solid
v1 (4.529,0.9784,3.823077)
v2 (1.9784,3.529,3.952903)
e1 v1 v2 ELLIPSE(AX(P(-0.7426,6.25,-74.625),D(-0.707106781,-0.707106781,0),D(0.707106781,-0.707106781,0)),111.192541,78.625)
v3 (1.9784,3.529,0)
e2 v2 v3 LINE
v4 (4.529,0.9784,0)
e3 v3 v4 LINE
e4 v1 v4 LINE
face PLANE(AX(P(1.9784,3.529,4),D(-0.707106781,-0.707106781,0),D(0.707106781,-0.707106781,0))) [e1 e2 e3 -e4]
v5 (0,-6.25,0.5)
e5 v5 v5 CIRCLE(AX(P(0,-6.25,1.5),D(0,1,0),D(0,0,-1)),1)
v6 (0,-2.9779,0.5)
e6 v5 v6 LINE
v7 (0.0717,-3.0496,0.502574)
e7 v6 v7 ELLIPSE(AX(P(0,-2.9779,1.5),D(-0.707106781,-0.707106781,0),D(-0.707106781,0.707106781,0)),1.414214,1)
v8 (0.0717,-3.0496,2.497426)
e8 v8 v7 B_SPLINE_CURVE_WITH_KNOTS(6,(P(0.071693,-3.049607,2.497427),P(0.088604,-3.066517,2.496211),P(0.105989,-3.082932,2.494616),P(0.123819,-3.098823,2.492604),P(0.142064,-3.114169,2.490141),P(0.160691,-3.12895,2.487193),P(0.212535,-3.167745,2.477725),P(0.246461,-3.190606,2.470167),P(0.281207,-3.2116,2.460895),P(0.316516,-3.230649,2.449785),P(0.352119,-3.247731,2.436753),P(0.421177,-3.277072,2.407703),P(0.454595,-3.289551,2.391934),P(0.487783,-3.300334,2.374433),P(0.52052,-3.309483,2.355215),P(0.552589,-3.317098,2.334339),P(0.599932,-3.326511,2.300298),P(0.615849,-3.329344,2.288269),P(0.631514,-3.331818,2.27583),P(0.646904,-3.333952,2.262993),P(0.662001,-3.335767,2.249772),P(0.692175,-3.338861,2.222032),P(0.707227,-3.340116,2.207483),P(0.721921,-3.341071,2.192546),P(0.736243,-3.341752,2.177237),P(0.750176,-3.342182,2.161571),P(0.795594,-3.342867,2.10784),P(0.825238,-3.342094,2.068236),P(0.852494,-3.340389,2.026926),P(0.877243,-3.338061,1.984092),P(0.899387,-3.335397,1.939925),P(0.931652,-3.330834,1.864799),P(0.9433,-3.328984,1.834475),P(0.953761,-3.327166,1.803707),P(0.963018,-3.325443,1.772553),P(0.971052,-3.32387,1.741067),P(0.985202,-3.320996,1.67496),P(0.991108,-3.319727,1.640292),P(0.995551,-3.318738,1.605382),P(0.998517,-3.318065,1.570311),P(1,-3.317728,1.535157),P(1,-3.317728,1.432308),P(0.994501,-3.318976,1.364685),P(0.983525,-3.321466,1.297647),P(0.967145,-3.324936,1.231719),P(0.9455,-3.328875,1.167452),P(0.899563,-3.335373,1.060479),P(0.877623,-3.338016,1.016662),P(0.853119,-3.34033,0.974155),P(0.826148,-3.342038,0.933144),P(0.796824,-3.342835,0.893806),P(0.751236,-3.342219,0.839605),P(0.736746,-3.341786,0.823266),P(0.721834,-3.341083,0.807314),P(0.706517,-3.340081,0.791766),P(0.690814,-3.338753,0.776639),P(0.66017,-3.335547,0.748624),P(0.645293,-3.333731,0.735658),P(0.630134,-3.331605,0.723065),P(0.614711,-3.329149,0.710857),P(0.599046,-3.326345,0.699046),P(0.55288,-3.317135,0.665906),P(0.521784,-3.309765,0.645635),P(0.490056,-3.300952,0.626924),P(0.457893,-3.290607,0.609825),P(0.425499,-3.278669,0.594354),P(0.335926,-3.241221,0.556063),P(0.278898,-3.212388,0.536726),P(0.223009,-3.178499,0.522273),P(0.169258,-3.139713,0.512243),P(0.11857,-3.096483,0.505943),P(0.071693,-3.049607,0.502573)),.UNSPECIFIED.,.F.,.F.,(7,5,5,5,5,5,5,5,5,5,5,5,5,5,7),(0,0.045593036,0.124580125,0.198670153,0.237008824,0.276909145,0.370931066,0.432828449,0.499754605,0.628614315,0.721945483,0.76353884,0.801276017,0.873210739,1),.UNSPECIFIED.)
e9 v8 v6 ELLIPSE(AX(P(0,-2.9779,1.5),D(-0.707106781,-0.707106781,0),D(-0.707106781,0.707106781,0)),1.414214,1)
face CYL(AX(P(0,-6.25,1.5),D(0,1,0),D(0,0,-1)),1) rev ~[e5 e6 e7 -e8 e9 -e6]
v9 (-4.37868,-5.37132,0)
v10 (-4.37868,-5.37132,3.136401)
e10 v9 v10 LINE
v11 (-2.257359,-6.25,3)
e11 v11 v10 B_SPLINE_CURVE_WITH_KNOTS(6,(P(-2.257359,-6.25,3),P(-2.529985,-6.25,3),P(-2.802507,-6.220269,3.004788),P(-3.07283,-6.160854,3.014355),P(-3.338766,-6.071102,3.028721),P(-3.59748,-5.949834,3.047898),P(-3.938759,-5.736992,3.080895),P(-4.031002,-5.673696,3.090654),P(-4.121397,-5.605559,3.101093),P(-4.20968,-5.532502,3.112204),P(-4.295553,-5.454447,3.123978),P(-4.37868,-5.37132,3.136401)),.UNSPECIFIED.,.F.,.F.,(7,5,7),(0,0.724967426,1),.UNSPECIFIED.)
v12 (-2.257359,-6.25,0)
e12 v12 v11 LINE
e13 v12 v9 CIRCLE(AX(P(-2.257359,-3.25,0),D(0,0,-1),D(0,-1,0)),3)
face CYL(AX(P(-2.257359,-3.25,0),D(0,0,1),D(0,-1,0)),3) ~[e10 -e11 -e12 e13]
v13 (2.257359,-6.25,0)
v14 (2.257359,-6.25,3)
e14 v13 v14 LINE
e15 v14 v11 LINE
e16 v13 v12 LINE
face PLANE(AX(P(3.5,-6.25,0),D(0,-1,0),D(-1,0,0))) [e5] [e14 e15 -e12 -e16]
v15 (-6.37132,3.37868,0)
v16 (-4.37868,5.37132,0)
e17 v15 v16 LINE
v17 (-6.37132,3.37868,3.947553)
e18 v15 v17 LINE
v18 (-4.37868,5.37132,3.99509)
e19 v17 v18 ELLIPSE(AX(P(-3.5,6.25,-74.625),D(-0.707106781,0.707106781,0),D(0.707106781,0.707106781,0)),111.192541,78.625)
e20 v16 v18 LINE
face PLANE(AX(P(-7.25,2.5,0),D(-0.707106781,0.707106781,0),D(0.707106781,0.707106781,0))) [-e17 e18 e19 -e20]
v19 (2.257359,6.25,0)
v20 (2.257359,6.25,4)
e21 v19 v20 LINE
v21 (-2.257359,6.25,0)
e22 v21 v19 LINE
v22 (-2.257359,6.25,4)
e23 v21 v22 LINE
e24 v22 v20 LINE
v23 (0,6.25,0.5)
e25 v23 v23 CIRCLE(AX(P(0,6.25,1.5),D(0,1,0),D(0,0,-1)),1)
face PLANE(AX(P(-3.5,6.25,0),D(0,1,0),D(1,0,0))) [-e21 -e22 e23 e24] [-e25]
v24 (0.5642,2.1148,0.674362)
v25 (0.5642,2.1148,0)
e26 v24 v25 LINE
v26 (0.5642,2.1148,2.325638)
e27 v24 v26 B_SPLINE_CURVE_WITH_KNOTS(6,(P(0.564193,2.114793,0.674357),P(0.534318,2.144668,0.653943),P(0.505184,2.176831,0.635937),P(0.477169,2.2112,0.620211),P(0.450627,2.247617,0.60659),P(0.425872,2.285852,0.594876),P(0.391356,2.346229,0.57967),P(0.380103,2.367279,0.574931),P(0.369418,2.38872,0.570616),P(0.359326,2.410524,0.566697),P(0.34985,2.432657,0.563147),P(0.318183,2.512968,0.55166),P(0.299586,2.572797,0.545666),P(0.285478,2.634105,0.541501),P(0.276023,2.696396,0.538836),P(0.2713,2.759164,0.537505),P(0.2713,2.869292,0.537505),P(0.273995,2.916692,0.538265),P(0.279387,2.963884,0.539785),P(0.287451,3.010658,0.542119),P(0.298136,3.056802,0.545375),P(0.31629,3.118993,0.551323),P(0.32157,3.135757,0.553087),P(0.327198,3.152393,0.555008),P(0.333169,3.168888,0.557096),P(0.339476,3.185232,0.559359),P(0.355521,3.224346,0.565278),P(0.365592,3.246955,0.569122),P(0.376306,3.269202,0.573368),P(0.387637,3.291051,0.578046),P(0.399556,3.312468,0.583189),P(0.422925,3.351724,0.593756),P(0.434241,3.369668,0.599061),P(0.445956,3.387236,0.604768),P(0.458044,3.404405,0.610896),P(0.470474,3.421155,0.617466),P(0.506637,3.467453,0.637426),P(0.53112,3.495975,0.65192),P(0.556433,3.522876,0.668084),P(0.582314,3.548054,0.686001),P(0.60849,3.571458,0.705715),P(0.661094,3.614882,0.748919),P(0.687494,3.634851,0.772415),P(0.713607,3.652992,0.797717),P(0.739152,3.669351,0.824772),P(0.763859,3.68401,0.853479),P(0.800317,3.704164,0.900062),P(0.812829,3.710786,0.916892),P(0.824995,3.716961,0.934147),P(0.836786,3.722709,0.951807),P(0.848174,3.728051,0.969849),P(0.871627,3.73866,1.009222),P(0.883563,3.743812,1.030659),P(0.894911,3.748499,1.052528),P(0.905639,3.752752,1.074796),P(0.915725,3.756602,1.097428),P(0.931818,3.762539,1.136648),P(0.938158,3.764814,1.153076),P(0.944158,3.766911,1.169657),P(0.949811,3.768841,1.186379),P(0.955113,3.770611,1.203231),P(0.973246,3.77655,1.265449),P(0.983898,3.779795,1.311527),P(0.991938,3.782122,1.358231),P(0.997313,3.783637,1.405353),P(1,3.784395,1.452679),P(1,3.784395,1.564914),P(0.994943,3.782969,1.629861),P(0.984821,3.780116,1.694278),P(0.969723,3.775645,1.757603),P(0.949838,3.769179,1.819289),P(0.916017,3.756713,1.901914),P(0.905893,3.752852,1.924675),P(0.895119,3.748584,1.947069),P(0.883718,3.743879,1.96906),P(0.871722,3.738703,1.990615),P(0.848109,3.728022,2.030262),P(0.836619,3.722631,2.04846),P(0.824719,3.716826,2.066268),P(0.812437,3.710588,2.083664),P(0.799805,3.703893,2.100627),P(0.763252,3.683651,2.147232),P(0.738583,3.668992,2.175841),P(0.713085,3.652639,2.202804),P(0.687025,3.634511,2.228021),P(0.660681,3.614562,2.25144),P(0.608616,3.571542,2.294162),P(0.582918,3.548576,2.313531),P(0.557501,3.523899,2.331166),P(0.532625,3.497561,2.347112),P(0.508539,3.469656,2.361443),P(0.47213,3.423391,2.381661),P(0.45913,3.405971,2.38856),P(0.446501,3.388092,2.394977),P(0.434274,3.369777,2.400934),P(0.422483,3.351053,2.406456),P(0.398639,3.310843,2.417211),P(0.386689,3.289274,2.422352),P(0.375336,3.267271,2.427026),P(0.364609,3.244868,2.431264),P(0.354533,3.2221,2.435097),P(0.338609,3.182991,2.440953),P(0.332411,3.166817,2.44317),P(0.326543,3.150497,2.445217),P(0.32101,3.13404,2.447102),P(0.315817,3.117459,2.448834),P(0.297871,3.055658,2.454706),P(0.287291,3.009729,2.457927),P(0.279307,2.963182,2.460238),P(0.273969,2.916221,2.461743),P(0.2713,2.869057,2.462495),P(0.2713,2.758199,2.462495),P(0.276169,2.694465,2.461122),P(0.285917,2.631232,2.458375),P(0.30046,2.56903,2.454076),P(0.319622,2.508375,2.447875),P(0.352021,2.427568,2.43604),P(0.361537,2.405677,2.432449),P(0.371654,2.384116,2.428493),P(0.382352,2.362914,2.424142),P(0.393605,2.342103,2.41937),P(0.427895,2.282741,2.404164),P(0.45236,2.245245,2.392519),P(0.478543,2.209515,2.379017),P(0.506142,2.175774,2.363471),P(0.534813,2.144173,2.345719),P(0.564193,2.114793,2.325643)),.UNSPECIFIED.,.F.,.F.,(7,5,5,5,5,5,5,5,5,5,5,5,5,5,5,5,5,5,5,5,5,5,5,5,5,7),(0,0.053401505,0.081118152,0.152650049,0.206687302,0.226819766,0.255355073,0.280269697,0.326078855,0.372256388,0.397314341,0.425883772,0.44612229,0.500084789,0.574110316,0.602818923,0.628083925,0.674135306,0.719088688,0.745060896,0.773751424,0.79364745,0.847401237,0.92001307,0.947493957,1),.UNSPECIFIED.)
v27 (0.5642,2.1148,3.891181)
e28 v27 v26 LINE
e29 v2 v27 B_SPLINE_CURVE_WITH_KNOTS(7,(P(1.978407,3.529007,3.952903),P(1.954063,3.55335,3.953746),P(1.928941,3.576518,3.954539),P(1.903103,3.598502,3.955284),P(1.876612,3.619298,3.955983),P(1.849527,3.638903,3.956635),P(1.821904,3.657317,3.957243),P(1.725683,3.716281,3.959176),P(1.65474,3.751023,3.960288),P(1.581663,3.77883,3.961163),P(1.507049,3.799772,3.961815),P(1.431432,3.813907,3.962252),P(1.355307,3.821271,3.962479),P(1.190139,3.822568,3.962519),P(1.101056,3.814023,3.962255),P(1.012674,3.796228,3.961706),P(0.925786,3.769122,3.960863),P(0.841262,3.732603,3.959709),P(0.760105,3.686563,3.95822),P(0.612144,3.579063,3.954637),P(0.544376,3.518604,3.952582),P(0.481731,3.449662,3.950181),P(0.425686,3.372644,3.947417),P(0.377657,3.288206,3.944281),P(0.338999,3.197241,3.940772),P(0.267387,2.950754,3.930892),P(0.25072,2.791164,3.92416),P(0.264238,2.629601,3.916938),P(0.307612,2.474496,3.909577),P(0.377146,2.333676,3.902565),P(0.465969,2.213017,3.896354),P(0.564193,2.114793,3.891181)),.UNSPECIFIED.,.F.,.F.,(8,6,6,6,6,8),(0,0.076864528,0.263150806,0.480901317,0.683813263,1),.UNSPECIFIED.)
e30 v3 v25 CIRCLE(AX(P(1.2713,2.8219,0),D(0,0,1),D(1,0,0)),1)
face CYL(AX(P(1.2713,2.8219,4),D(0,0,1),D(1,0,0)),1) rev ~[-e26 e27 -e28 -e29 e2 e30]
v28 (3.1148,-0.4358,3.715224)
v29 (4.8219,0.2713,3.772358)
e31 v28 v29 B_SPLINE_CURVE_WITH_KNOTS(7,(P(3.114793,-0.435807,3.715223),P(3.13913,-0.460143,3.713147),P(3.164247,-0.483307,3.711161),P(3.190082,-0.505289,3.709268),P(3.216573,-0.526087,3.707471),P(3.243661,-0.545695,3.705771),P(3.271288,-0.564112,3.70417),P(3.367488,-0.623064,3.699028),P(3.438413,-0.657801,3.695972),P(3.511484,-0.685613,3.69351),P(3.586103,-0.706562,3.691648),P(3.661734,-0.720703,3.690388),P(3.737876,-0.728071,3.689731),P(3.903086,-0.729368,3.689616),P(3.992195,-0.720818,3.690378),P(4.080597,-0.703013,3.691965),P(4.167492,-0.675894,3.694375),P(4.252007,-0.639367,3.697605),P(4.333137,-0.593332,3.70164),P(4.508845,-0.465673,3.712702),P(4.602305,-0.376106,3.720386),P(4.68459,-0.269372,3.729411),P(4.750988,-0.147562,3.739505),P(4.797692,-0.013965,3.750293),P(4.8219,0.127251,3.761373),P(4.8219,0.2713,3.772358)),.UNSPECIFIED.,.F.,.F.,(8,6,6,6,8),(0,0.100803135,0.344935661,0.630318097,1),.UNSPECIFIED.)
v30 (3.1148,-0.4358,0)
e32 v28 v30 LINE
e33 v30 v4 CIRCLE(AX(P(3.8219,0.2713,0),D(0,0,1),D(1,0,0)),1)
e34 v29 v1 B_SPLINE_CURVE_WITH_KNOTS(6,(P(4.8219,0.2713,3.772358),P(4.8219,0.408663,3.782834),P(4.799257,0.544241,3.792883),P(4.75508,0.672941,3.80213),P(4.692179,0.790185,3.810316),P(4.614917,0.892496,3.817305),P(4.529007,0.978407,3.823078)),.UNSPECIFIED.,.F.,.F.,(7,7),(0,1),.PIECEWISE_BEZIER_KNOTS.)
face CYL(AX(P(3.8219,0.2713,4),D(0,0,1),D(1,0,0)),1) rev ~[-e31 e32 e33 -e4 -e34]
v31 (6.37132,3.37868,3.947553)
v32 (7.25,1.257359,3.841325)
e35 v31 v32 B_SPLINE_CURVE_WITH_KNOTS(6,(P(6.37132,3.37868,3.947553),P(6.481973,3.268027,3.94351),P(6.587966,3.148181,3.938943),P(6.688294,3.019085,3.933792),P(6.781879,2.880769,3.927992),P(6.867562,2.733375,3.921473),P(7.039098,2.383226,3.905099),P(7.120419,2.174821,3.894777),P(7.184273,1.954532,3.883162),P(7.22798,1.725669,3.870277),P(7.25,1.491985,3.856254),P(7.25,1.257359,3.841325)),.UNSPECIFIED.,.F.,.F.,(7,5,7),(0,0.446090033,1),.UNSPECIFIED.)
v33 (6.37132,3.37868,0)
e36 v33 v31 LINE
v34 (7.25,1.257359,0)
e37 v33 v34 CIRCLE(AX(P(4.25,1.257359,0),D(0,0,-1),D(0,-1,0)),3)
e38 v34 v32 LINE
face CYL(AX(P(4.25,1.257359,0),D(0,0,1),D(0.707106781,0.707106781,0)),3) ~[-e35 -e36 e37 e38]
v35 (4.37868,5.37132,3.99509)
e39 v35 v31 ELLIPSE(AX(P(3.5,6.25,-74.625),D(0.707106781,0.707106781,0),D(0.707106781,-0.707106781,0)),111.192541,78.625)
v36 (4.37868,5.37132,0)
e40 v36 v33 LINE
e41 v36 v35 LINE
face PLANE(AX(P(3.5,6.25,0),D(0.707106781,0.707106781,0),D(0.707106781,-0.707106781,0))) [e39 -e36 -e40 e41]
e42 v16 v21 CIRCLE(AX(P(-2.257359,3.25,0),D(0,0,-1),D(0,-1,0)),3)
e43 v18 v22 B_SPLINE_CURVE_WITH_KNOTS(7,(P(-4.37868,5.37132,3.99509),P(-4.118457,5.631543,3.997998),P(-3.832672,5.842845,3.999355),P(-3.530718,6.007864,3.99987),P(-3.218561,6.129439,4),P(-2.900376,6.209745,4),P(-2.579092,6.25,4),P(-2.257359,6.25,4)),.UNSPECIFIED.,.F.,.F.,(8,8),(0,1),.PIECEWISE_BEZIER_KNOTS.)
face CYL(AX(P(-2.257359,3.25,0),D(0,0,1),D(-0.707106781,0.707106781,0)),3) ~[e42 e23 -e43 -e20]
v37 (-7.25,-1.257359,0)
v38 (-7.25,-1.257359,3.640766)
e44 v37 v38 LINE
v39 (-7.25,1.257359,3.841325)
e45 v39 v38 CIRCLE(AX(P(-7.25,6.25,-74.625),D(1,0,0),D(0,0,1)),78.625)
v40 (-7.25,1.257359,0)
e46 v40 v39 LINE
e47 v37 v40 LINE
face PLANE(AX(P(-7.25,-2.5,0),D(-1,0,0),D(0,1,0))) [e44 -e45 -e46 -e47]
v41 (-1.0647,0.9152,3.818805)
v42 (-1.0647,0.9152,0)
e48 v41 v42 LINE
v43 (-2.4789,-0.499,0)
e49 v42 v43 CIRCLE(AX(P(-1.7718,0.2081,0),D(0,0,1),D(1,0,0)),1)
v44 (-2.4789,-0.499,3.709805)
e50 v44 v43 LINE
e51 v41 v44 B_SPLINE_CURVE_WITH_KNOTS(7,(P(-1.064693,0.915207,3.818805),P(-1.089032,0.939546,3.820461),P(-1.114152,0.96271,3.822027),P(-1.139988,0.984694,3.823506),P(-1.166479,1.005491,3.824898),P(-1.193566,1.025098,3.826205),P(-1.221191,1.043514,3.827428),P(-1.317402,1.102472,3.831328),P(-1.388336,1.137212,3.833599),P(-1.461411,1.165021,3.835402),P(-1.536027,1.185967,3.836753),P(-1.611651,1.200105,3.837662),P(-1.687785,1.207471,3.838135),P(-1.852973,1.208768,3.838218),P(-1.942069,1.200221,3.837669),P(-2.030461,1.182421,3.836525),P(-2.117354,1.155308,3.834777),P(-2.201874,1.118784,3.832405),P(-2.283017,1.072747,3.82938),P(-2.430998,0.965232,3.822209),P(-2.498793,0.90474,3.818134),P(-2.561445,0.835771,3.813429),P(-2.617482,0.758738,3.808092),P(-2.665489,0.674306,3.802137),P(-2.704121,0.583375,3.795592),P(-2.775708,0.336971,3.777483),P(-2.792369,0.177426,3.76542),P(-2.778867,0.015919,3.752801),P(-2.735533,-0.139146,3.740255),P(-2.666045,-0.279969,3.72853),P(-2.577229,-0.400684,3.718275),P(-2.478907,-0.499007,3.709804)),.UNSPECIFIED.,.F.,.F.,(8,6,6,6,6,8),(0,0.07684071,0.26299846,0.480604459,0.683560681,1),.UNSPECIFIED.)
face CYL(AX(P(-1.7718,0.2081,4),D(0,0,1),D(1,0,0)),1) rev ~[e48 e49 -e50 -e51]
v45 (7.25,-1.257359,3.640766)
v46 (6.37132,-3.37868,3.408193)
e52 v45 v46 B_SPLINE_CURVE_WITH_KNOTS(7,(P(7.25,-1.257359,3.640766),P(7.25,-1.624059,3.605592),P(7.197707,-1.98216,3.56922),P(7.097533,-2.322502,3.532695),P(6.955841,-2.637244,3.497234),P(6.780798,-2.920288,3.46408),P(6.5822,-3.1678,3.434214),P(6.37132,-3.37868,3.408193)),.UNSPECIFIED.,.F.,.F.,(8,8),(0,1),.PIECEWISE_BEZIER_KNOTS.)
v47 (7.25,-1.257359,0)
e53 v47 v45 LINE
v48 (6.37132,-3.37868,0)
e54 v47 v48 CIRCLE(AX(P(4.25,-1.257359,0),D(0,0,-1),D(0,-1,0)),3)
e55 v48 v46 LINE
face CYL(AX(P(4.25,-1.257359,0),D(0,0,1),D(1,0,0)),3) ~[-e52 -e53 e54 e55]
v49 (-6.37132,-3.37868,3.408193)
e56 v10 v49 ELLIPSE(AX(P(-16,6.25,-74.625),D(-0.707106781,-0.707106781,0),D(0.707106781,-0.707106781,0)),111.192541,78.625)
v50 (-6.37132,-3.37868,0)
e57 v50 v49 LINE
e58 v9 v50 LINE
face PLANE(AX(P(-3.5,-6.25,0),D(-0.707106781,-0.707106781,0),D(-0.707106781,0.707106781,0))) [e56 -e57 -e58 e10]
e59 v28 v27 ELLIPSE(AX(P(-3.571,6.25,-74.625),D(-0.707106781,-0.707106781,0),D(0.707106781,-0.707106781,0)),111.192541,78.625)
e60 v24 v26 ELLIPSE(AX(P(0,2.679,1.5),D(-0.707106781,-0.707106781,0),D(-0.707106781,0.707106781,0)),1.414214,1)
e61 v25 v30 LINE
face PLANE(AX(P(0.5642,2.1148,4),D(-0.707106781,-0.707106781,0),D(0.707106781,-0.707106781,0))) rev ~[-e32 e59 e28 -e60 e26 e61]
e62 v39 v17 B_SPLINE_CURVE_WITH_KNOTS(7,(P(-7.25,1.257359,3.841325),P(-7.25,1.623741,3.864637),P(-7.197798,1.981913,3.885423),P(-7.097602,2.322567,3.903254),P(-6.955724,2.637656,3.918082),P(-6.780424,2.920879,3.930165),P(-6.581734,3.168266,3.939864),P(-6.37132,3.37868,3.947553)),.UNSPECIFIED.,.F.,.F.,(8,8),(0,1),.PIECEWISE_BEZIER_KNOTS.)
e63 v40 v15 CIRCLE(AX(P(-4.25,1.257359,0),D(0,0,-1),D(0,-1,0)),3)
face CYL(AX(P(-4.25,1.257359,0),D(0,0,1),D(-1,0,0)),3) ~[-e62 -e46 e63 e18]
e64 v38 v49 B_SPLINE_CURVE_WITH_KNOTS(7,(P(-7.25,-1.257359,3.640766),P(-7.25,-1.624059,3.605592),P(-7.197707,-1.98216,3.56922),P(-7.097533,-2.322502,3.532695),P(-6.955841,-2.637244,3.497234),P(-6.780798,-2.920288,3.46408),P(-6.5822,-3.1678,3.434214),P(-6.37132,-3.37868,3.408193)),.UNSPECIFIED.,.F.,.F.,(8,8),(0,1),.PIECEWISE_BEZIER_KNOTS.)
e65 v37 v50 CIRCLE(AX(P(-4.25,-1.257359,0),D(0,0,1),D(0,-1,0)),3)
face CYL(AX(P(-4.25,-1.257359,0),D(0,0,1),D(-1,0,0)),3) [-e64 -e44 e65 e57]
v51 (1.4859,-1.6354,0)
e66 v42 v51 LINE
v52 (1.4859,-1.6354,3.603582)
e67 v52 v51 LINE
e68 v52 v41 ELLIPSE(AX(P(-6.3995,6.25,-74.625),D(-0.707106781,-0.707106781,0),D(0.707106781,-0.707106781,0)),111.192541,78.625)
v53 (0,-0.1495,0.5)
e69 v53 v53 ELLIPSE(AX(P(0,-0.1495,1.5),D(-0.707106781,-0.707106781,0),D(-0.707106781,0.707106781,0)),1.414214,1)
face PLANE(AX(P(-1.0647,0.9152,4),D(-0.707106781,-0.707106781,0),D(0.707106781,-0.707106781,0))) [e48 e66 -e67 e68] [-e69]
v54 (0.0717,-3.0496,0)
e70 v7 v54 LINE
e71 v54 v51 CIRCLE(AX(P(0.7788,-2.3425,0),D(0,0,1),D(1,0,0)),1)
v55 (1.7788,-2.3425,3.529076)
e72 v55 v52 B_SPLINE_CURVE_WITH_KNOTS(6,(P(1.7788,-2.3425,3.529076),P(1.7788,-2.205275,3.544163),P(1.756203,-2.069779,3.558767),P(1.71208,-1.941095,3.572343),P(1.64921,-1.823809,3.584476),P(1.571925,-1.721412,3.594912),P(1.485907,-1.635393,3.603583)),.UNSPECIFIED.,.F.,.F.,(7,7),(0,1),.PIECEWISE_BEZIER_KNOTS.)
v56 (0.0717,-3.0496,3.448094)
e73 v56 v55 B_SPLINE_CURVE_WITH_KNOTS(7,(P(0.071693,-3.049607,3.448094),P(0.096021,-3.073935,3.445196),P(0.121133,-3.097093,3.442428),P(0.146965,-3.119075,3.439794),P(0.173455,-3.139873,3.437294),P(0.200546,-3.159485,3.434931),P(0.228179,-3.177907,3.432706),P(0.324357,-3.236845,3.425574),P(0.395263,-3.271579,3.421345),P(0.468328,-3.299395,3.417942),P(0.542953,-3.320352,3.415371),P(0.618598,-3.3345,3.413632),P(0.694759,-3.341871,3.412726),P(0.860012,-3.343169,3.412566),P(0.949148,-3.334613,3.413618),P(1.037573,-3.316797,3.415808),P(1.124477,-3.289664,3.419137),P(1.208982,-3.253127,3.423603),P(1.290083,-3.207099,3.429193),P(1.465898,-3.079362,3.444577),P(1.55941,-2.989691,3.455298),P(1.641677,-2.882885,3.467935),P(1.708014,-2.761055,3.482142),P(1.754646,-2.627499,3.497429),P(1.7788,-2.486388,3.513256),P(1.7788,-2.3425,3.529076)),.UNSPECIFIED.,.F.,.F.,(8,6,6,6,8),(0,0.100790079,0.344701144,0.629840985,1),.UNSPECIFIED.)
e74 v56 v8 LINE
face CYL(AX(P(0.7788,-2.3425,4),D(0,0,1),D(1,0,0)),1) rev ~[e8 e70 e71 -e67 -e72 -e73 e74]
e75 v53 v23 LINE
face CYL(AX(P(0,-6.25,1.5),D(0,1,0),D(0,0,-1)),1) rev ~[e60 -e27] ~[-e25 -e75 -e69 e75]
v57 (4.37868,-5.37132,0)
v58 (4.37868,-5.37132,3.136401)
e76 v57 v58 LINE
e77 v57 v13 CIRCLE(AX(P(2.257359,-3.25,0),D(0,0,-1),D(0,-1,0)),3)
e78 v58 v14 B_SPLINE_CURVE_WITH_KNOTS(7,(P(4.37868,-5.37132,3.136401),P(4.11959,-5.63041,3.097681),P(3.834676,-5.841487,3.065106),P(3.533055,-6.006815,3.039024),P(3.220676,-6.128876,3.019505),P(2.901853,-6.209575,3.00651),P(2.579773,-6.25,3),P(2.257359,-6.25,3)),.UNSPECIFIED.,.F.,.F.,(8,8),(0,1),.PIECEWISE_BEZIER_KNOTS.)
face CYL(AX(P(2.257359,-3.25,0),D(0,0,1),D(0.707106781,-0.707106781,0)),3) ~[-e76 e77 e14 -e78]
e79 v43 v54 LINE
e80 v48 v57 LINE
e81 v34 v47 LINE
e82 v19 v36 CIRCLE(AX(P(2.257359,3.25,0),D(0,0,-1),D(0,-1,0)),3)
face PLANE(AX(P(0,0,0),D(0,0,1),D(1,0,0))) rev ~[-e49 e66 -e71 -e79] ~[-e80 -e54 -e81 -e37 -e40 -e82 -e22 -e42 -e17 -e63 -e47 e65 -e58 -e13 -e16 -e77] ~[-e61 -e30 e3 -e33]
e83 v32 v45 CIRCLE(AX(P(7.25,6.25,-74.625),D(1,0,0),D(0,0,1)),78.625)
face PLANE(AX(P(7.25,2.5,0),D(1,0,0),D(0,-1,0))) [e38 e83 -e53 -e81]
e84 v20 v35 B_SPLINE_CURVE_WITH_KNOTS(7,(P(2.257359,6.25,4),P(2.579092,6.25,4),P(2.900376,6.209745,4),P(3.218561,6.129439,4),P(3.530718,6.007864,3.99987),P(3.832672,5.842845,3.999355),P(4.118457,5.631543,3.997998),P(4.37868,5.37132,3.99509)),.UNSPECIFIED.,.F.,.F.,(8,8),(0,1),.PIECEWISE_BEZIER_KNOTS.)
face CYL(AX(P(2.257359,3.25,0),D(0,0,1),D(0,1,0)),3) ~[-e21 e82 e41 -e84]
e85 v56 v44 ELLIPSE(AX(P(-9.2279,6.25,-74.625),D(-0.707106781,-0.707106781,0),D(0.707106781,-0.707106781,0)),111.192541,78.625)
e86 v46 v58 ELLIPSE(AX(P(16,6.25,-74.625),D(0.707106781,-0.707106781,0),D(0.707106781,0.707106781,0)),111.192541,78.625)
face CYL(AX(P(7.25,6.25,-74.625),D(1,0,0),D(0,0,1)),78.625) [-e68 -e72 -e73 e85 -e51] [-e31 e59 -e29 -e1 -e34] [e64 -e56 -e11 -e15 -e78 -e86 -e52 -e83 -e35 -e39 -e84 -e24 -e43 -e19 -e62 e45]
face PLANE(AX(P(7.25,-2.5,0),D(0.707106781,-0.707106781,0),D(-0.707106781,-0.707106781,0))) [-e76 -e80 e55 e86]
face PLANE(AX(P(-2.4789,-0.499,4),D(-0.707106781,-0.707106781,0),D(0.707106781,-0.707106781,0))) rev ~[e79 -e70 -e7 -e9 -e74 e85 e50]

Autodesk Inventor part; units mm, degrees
ref_plane "YZ Plane" through (0, 0, 0) normal (1, 0, 0) x (0, 1, 0)
ref_plane "XZ Plane" through (0, 0, 0) normal (0, 1, 0) x (-1, 0, 0)
ref_plane "XY Plane" through (0, 0, 0) normal (0, 0, 1) x (1, 0, 0)
sketch "Base" plane through (0, 0, 0) normal (0, 0, 1) x (1, 0, 0)
  line L0 (-7.25, -2.5) -> (-7.25, 2.5)
  line L1 (-7.25, 2.5) -> (-3.5, 6.25)
  line L2 (-3.5, 6.25) -> (3.5, 6.25)
  line L3 (3.5, 6.25) -> (7.25, 2.5)
  line L4 (7.25, 2.5) -> (7.25, -2.5)
  line L5 (7.25, -2.5) -> (3.5, -6.25)
  line L6 (3.5, -6.25) -> (-3.5, -6.25)
  line L7 (-3.5, -6.25) -> (-7.25, -2.5)
  line L8 (-7.25, 0) -> (7.25, 0) construction
  line L9 (0, 6.25) -> (0, -6.25) construction
  point P0 (0, 0)
  point P1 (0, 0)
  dimension "d1" = 14.5
  dimension "d5" = 12.5
  dimension "d7" = 5
extrude "BaseFeature" add sketch "Base" along normal blind 4
fillet "BaseFilletsFeature" radius 3 8 edges at (-7.25, -2.5, 2) (-3.5, -6.25, 2) (3.5, -6.25, 2) (7.25, -2.5, 2) (7.25, 2.5, 2) (3.5, 6.25, 2) (-3.5, 6.25, 2) (-7.25, 2.5, 2)
sketch "RailHoles" plane through (0, 0, 4) normal (0, 0, 1) x (1, 0, 0)
  line L0 (1.2713, 2.8219) -> (3.8219, 0.2713) construction
  line L1 (-1.7718, 0.2081) -> (0.7788, -2.3425) construction
  line L2 (6.3713, 3.3787) -> (4.3787, 5.3713) construction
  line L3 (5.375, 4.375) -> (2.5466, 1.5466) construction
  circle A0 centre (1.2713, 2.8219) radius 1
  circle A1 centre (3.8219, 0.2713) radius 1
  circle A2 centre (-1.7718, 0.2081) radius 1
  circle A3 centre (0.7788, -2.3425) radius 1
  line L4 (1.9784, 3.529) -> (4.529, 0.9784)
  line L5 (0.5642, 2.1148) -> (3.1148, -0.4358)
  line L6 (-1.0647, 0.9152) -> (1.4859, -1.6354)
  line L7 (-2.4789, -0.499) -> (0.0717, -3.0496)
  dimension "d11" = 4
  dimension "d12" = 4
  dimension "d13" = 3.6071
  dimension "d14" = 2
  dimension "d15" = 1.5
  dimension "d25" = 2.818
extrude "RailHolesFeature" cut sketch "RailHoles" against normal through all
sketch "RouteHole" plane through (-2.2574, -6.25, 0) normal (0, -1, 0) x (1, 0, 0)
  line L0 (4.5147, 4) -> (4.5147, 0) construction
  line L1 (0, 4) -> (4.5147, 4) construction
  line L2 (0, 0) -> (0, 4) construction
  line L3 (4.5147, 0) -> (0, 0) construction
  line L4 (0, 4) -> (0, 0) construction
  line L5 (0, 4) -> (4.5147, 4) construction
  line L6 (2.2574, 4) -> (2.2574, 0) construction
  line L7 (4.5147, 0) -> (0, 0) construction
  circle A0 centre (2.2574, 1.5) radius 1.25
  dimension "d40" = 2.5
  dimension "d41" = 1.5
hole "RouteHoleFeature" at (0, -6.25, 1.5) direction (0, 1, 0) diameter 2 end through all
sketch "SideProfile" plane through (7.25, -1.2574, 0) normal (1, 0, 0) x (0, 0, -1)
  arc A0 (-4, 7.5074) -> (-3, -4.9926) centre (74.625, 7.5074) ccw
  line L0 (-4, -4.9926) -> (0, -4.9926) construction
  line L1 (0, 7.5074) -> (-4, 7.5074) construction
  line L2 (-3, -4.9926) -> (0, -4.9926)
  line L3 (0, 7.5074) -> (0, -4.9926)
  line L4 (0, 7.5074) -> (0, 6.6287) projected
  line L5 (0, 7.5074) -> (-4, 7.5074)
  line L6 (-4, -2.1213) -> (-4, 0) construction
  dimension "d36" = 4
  dimension "d39" = 3
extrude "SideProfileFeature" cut sketch "SideProfile" against normal through all keep common part
equation "\"d7\" = 0.4 * d5"
equation "\"d12\" = 2 * d14"
equation "\"d13\" = 1.28 * d25"
properties part number "PinkyRouter"
